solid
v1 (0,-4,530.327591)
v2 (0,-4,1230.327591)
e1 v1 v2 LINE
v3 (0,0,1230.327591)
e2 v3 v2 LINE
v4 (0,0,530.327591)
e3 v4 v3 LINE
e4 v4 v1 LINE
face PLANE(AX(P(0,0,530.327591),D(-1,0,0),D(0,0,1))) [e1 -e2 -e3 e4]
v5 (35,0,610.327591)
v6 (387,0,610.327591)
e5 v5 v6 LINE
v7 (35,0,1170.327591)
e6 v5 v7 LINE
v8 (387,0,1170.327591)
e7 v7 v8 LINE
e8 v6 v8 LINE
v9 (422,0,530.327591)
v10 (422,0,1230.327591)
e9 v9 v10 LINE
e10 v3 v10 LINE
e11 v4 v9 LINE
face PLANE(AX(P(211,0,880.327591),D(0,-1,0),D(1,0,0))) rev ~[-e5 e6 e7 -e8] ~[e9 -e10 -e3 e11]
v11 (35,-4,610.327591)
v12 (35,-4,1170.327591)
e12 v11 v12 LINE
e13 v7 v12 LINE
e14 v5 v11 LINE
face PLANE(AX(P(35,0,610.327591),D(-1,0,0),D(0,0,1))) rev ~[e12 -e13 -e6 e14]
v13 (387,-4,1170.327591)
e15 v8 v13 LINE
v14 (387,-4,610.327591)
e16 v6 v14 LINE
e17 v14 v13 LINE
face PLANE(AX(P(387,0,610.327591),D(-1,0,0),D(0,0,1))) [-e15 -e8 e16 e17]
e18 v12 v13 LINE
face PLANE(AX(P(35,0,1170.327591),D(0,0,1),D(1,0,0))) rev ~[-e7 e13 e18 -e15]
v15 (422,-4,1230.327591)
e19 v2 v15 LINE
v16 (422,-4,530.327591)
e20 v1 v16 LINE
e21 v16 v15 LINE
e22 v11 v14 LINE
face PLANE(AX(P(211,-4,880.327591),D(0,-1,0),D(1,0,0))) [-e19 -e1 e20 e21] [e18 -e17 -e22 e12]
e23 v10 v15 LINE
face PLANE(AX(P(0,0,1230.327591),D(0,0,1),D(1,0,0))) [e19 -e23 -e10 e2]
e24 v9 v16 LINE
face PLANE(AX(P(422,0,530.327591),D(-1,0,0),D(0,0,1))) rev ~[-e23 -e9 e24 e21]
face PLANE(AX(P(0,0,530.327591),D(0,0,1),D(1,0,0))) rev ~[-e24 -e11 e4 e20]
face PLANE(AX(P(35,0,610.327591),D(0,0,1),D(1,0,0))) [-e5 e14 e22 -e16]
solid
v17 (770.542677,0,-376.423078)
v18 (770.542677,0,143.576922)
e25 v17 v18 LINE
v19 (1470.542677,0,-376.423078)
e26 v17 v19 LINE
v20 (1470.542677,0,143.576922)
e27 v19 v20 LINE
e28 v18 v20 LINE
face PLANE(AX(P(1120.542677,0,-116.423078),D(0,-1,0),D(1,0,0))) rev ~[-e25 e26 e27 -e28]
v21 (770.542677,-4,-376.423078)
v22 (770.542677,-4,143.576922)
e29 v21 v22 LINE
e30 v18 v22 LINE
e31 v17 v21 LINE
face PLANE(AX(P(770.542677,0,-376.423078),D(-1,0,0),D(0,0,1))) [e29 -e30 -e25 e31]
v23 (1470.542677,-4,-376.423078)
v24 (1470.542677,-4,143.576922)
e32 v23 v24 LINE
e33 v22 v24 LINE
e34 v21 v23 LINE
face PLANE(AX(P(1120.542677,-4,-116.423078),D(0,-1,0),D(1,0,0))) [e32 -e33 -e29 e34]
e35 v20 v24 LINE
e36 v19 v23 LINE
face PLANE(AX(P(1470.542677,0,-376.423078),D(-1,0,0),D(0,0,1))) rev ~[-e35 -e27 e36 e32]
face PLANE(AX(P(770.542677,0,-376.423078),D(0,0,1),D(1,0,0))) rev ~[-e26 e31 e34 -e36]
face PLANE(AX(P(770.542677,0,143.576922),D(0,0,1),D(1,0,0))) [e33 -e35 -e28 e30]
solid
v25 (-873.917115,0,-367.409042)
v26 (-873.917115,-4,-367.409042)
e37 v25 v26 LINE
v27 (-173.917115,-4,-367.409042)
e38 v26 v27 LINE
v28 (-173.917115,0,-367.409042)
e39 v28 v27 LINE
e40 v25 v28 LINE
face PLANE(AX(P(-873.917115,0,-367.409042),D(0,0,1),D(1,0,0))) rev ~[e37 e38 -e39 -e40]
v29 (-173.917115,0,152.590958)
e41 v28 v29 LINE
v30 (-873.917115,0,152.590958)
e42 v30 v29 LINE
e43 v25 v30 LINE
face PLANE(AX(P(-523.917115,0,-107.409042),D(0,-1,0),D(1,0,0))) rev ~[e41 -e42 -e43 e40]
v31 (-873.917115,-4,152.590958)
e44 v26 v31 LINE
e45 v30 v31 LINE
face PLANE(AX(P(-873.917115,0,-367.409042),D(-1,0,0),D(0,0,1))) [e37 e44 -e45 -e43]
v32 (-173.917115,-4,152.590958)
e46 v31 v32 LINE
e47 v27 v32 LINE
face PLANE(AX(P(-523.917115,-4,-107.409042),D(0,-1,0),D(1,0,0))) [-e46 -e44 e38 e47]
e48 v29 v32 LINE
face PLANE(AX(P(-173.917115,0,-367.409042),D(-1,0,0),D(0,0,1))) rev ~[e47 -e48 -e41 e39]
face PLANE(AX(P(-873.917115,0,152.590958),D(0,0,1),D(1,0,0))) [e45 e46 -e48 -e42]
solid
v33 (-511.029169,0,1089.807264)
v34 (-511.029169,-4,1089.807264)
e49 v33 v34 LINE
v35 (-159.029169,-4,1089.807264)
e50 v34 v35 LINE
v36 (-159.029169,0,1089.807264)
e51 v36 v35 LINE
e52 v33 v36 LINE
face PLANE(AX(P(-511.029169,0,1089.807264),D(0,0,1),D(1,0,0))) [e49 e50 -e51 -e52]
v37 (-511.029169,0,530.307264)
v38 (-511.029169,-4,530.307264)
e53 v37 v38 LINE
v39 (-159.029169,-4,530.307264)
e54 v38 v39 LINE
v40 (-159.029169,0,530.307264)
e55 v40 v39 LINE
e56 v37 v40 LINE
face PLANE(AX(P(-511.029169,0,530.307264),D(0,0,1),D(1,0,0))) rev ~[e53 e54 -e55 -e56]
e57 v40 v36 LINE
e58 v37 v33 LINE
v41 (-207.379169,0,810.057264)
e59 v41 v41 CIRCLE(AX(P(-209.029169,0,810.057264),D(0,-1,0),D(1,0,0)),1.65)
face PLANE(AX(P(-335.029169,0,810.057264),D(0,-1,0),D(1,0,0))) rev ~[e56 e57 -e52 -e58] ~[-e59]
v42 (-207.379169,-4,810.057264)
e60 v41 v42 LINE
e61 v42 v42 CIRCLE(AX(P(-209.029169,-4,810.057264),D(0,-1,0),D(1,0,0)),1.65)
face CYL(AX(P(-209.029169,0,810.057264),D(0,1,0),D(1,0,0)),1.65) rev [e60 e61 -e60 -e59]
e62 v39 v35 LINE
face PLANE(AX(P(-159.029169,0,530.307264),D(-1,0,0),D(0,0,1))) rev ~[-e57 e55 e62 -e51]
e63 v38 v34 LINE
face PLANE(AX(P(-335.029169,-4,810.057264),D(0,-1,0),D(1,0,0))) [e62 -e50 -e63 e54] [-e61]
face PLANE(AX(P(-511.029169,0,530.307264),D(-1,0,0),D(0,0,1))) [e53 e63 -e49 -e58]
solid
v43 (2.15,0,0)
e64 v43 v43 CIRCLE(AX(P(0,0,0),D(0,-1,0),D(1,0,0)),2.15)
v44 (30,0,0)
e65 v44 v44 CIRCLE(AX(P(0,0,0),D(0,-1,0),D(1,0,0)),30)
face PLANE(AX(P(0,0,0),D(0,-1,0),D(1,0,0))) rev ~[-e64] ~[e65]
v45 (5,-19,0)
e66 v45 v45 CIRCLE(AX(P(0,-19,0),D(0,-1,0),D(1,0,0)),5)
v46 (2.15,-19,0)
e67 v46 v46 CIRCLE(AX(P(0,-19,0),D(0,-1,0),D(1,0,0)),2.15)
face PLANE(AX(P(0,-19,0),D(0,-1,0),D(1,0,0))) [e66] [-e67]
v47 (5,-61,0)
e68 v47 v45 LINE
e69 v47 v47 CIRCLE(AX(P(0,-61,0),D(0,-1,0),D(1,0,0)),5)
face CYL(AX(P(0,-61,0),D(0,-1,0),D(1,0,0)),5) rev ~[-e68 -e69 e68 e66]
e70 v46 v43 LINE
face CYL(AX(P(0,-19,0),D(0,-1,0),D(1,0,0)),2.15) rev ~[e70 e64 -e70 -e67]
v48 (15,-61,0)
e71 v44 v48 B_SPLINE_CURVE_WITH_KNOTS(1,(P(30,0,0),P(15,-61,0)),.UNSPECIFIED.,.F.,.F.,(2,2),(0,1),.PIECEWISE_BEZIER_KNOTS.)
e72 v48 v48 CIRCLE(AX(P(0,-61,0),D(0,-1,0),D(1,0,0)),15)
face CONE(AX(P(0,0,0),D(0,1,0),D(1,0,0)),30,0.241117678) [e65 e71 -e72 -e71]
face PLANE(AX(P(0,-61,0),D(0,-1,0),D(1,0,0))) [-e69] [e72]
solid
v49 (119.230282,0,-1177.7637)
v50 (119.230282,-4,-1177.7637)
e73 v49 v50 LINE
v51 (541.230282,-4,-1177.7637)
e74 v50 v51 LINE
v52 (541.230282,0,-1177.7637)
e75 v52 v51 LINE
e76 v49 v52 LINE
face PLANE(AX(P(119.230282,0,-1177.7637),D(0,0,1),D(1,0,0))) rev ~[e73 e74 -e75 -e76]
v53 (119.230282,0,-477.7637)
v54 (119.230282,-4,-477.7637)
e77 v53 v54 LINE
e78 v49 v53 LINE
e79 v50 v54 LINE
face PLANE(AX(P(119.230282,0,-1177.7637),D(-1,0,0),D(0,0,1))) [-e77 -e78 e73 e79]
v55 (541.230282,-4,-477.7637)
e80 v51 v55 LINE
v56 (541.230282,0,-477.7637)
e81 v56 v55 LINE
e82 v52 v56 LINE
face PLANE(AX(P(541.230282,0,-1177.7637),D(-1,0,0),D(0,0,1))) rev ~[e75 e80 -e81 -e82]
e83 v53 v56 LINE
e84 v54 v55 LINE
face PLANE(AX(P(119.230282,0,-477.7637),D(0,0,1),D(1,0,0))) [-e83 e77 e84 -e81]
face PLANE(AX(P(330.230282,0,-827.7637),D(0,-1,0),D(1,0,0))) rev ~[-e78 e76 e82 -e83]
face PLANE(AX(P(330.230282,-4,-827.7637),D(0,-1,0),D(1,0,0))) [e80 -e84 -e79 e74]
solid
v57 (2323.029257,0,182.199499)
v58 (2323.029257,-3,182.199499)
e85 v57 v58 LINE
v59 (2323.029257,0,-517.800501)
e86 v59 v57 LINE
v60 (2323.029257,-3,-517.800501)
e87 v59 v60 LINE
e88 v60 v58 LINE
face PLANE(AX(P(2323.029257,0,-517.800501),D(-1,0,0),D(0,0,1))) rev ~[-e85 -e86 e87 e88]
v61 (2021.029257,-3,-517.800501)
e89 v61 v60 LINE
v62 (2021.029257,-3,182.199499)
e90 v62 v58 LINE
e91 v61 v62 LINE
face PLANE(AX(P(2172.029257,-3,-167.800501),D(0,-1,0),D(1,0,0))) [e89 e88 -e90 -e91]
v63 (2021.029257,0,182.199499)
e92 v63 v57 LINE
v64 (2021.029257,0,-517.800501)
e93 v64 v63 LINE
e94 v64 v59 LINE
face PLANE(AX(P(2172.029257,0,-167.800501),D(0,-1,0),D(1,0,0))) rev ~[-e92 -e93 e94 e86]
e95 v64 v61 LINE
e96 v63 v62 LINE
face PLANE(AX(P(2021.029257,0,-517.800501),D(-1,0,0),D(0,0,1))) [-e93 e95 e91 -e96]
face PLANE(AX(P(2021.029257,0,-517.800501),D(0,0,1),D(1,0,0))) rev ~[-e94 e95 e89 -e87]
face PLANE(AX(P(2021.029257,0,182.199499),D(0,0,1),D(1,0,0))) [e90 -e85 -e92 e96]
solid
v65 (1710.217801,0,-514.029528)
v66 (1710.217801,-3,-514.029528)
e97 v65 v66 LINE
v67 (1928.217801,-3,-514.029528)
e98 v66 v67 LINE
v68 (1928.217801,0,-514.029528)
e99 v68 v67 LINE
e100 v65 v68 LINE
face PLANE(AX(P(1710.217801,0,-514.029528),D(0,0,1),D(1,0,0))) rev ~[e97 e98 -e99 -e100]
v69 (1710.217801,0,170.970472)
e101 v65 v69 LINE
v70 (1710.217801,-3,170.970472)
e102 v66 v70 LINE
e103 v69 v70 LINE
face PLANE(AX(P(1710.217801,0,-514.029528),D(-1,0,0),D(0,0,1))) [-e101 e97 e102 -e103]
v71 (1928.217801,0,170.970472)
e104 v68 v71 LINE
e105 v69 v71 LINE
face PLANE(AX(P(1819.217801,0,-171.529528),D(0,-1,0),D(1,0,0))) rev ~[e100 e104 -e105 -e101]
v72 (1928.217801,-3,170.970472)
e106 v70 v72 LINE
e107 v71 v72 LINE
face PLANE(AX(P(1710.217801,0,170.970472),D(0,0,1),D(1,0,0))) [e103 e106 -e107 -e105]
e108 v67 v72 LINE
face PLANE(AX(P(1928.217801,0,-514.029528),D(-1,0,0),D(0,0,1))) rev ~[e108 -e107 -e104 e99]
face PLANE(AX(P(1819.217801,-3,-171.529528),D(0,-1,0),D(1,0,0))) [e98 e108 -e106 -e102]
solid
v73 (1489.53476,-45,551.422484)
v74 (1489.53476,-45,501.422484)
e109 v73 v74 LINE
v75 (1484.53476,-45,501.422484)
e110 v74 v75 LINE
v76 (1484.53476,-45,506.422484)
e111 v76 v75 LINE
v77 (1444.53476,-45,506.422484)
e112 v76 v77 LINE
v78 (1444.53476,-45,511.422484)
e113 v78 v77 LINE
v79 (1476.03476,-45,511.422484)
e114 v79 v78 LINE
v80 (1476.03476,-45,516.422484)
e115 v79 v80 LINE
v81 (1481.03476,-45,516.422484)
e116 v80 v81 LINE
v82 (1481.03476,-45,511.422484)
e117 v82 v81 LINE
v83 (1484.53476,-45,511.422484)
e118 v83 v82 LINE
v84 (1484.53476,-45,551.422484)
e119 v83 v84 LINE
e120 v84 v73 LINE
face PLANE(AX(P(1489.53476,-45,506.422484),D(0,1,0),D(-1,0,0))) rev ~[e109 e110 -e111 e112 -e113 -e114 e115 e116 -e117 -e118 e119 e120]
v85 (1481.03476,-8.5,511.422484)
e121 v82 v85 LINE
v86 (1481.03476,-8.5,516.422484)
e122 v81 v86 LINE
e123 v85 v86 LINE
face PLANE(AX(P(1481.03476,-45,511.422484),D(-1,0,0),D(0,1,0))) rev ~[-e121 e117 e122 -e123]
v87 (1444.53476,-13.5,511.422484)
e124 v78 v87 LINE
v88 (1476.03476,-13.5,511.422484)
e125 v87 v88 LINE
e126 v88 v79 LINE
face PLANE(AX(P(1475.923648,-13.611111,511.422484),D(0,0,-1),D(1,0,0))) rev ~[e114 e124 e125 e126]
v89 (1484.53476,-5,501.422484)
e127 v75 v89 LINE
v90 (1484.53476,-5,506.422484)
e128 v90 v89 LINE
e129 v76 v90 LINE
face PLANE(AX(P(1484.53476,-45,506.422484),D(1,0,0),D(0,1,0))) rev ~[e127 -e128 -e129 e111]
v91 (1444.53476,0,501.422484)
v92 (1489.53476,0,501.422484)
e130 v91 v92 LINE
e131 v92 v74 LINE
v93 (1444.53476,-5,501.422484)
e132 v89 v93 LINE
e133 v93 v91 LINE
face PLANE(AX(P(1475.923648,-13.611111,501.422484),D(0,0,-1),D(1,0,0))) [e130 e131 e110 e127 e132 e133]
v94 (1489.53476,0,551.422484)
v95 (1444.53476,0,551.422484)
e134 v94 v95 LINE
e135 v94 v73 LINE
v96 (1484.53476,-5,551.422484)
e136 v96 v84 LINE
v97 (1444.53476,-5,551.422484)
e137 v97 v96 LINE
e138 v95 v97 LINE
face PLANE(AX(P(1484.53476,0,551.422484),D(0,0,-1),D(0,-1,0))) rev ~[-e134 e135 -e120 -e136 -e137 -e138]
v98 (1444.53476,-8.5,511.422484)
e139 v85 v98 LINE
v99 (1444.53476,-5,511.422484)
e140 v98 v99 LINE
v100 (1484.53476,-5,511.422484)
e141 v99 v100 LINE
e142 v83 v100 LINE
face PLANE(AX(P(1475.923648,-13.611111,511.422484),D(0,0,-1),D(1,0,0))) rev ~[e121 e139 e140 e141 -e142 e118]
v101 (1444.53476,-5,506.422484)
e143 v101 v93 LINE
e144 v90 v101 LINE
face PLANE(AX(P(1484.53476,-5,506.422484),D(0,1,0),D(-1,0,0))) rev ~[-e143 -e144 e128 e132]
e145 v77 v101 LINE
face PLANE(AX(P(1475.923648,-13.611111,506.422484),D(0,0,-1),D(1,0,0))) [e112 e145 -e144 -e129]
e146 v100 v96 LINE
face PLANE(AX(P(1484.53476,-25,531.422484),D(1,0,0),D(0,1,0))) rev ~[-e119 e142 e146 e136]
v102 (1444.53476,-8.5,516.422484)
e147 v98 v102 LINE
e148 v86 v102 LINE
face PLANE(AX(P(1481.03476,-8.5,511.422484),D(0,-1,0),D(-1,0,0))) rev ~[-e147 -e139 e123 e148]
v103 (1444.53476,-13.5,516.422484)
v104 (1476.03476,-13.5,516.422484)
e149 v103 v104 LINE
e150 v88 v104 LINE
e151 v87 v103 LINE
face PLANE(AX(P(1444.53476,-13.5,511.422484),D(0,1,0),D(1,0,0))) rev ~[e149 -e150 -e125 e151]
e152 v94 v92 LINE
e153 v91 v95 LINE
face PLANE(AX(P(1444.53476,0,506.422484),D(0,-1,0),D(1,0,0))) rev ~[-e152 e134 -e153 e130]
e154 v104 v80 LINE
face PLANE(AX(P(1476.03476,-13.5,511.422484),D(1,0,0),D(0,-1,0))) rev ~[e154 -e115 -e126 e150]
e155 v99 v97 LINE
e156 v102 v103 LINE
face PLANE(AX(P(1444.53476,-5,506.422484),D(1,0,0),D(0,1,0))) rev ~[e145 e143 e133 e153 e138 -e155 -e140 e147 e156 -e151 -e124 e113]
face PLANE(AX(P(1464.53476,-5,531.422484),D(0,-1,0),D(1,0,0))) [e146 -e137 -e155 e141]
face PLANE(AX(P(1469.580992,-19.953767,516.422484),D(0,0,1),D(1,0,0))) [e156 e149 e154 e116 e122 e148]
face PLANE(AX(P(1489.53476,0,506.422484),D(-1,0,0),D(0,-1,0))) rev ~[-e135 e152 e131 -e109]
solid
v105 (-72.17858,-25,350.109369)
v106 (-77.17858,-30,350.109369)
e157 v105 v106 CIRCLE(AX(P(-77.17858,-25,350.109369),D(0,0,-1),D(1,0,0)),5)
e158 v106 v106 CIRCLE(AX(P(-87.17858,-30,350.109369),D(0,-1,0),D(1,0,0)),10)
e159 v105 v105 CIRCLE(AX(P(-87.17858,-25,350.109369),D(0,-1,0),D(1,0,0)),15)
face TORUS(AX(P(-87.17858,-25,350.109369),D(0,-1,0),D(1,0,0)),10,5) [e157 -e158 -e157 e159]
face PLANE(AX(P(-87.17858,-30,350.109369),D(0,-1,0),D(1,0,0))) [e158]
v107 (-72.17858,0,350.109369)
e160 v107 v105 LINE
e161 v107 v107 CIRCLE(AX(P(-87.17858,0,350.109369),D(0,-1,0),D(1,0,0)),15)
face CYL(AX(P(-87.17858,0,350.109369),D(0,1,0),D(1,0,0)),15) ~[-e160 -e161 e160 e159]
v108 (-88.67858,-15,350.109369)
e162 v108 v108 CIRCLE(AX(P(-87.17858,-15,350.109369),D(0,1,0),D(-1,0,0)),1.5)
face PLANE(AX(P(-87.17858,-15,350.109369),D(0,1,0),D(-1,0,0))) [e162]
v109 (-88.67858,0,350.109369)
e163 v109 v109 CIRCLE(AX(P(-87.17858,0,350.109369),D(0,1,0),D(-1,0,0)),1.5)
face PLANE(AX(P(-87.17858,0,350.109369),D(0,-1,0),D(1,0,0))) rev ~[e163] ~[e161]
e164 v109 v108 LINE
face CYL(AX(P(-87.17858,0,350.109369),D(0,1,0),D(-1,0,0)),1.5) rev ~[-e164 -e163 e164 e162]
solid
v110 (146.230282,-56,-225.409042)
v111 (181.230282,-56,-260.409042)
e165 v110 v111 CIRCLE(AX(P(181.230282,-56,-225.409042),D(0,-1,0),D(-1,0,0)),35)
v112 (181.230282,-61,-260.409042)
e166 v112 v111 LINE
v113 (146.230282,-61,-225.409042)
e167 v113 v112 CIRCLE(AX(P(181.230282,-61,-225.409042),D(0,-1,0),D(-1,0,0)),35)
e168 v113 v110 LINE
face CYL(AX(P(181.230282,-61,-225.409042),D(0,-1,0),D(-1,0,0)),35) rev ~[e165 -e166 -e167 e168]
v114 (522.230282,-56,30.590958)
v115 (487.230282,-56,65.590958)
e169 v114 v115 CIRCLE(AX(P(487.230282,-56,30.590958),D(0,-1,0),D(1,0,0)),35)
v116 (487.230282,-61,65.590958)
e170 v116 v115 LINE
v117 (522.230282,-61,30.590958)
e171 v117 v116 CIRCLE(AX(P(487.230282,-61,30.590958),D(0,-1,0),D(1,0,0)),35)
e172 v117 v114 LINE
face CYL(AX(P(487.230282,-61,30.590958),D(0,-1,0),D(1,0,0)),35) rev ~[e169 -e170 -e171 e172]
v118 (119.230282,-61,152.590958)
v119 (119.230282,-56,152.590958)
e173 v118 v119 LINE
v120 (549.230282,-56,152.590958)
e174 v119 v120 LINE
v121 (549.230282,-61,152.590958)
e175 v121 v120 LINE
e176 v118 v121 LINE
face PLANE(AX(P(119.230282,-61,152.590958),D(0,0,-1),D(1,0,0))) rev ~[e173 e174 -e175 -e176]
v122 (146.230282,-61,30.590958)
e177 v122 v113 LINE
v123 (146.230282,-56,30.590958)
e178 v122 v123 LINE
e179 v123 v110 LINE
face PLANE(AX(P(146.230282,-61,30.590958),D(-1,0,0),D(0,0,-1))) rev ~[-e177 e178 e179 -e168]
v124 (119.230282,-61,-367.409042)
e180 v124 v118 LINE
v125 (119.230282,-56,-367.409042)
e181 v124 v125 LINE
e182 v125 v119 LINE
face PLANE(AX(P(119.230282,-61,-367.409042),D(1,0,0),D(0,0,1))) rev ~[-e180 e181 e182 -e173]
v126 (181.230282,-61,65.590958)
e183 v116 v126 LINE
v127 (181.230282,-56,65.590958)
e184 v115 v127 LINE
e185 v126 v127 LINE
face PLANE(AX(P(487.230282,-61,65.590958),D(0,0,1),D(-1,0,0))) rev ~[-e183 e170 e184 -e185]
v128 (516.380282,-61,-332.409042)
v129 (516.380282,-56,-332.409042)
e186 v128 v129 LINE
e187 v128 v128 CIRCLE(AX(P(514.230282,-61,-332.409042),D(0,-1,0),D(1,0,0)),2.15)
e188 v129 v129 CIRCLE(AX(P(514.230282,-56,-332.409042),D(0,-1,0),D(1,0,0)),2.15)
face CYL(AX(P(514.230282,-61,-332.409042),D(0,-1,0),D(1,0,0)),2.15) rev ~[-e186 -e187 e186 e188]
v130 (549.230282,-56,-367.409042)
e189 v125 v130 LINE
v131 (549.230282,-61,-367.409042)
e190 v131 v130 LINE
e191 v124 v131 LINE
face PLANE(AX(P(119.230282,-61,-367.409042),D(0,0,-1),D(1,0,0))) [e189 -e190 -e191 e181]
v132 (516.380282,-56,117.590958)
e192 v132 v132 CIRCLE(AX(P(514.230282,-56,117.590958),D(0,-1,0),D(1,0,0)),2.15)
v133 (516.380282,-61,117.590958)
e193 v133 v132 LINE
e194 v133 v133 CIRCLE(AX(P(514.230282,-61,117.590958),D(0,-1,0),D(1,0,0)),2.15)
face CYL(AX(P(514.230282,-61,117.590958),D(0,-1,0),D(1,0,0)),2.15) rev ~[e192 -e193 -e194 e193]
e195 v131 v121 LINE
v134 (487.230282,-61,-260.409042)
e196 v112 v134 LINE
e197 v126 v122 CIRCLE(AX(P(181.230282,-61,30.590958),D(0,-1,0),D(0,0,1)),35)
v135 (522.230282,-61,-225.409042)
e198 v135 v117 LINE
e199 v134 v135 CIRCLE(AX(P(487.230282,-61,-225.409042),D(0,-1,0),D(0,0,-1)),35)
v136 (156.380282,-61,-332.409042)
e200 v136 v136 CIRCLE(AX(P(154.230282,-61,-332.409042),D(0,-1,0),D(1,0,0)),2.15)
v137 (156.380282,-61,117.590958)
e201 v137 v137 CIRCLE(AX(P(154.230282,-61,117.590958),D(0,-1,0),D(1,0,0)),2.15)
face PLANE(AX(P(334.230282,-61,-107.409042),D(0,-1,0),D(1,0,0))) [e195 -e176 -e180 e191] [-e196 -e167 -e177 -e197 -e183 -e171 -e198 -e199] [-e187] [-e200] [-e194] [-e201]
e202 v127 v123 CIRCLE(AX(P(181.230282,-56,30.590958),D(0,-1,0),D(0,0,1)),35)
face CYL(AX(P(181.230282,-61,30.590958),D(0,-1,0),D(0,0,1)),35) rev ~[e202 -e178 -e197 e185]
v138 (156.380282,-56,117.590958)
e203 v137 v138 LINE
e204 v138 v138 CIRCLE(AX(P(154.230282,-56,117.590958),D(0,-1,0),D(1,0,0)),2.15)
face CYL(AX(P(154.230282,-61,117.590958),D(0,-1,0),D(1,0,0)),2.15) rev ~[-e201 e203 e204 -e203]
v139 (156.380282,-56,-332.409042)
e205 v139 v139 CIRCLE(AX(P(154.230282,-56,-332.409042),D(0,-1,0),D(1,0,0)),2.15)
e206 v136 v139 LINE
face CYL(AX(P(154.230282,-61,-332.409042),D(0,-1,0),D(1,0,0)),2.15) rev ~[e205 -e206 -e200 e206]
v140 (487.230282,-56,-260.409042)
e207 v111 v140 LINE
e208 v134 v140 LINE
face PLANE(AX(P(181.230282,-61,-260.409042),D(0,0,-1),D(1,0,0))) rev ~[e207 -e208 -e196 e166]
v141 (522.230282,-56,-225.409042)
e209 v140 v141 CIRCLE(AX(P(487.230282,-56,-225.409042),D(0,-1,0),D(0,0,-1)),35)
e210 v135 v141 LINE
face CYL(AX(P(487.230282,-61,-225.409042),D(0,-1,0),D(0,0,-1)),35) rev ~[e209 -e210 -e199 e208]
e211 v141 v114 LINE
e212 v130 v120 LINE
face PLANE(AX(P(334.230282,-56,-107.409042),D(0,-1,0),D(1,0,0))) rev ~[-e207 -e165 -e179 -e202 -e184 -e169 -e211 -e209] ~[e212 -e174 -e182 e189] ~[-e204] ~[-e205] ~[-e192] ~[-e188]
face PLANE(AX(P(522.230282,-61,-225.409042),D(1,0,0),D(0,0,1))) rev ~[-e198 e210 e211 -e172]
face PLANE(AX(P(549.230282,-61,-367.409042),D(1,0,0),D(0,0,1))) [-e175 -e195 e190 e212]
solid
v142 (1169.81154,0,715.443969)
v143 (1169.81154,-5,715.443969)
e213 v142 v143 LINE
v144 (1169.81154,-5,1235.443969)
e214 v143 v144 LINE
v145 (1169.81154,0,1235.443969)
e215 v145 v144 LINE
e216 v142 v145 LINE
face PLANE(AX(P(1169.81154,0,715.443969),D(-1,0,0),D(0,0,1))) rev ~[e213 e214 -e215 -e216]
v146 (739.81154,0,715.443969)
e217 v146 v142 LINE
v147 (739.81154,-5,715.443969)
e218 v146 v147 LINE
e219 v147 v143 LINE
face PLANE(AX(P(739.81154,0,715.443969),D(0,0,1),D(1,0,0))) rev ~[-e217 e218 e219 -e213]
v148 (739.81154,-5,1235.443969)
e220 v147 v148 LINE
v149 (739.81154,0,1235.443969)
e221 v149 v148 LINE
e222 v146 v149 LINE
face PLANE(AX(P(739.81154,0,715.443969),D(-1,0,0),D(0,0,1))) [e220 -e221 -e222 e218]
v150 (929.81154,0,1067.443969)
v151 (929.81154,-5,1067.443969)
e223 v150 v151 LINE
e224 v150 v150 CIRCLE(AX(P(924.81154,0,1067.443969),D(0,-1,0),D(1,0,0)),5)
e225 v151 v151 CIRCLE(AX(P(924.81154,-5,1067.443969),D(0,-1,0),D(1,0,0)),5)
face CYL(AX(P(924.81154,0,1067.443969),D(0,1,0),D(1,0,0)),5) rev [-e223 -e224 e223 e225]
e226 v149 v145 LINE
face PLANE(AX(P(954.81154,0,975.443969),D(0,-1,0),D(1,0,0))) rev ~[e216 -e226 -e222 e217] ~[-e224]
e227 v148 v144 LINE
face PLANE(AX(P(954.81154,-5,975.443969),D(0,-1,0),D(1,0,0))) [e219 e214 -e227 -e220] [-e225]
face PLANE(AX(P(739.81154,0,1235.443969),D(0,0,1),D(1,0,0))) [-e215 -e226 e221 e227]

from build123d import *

# Parameters (mm, degrees)
F2_R        = 30
F4_R        = 15
F6_R        = 5
F7_DEPTH    = 42
F8_R        = 2.15
F9_DEPTH    = 19.0010001
F10_W       = 430
F10_H       = 520
F10_R       = 2.15
F11_DEPTH   = 5
F13_DEPTH   = 61.0010001
F14_W       = 700
F14_H       = 520
F16_DEPTH   = 4
F15_W       = 422
F15_H       = 700
F17_DEPTH   = 4
F18_W       = 700
F18_H       = 520
F19_DEPTH   = 4
F20_W       = 422
F20_H       = 700
F20_W_2     = 352
F20_H_2     = 560
F21_DEPTH   = 4
F22_W       = 430
F22_H       = 520
F22_R       = 5
F23_DEPTH   = 5
F24_W       = 352
F24_H       = 559.5
F24_R       = 1.65
F25_DEPTH   = 4
F26_R       = 15
F27_DEPTH   = 30
F28_R       = 5
F29_R       = 1.5
F30_DEPTH   = 15
F31_W       = 40
F31_H       = 40
F32_DEPTH   = 5
F33_W       = 40
F33_H       = 40
F33_W_2     = 5
F34_DEPTH   = 5
F35_W       = 40
F35_H       = 40
F36_DEPTH   = 5
F36_FACE1_W = 40
F36_FACE1_H = 40
F38_DEPTH   = 5
F40_DEPTH   = 5
F41_W       = 302
F41_H       = 700
F42_DEPTH   = 3
F43_W       = 218
F43_H       = 685
F44_DEPTH   = 3


with BuildPart() as f5:
    # F2 (on Front) → F5 section 0
    with BuildSketch(Plane.XZ):
        Circle(F2_R)
    # F4 (on offset) → F5 section 1
    with BuildSketch(Plane.XZ.offset(61)):
        Circle(F4_R)
    loft()

    # F6 (on face) → F7 (cut)
    with BuildSketch(Plane.XZ.offset(61)):
        Circle(F6_R)
    extrude(amount=-F7_DEPTH, mode=Mode.SUBTRACT)

    # F8 (on face) → F9 (cut, through all)
    with BuildSketch(Plane.XZ.offset(19)):
        Circle(F8_R)
    extrude(amount=-F9_DEPTH, mode=Mode.SUBTRACT)


with BuildPart() as f11:
    # F10 (on offset) → F11 (new body)
    with BuildSketch(Plane.XZ.offset(61)):
        with Locations((334.2302817106, -107.4090420464)):
            Rectangle(F10_W, F10_H)
        with Locations((154.2302817106, -332.4090420464)):
            Circle(F10_R, mode=Mode.SUBTRACT)
        with Locations((514.2302817106, -332.4090420464)):
            Circle(F10_R, mode=Mode.SUBTRACT)
        with Locations((154.2302817106, 117.5909579536)):
            Circle(F10_R, mode=Mode.SUBTRACT)
        with Locations((514.2302817106, 117.5909579536)):
            Circle(F10_R, mode=Mode.SUBTRACT)
    extrude(amount=-F11_DEPTH)

    # F12 (on face) → F13 (cut, through all)
    with BuildSketch(Plane.XZ.offset(61)):
        with BuildLine():
            Line((487.2302817106, 65.5909579536), (181.2302817106, 65.5909579536))
            ThreePointArc((181.2302817106, 65.5909579536), (156.4815443691, 55.3396952951), (146.2302817106, 30.5909579536))
            Line((146.2302817106, 30.5909579536), (146.2302817106, -225.4090420464))
            ThreePointArc((146.2302817106, -225.4090420464), (156.4815443691, -250.1577793879), (181.2302817106, -260.4090420464))
            Line((181.2302817106, -260.4090420464), (487.2302817106, -260.4090420464))
            ThreePointArc((487.2302817106, -260.4090420464), (511.9790190522, -250.1577793879), (522.2302817106, -225.4090420464))
            Line((522.2302817106, -225.4090420464), (522.2302817106, 30.5909579536))
            ThreePointArc((522.2302817106, 30.5909579536), (511.9790190522, 55.3396952951), (487.2302817106, 65.5909579536))
        make_face()
    extrude(amount=-F13_DEPTH, mode=Mode.SUBTRACT)


with BuildPart() as f16:
    # F14 (on Front) → F16 (new body)
    with BuildSketch(Plane.XZ):
        with Locations((-523.9171147346, -107.4090420464)):
            Rectangle(F14_W, F14_H)
    extrude(amount=F16_DEPTH)


with BuildPart() as f17:
    # F15 (on Front) → F17 (new body)
    with BuildSketch(Plane.XZ):
        with Locations((330.2302817106, -827.7637004852)):
            Rectangle(F15_W, F15_H)
    extrude(amount=F17_DEPTH)


with BuildPart() as f19:
    # F18 (on Front) → F19 (new body)
    with BuildSketch(Plane.XZ):
        with Locations((1120.5426770376, -116.4230778813)):
            Rectangle(F18_W, F18_H)
    extrude(amount=F19_DEPTH)


with BuildPart() as f21:
    # F20 (on Front) → F21 (new body)
    with BuildSketch(Plane.XZ):
        with Locations((211, 880.3275906977)):
            Rectangle(F20_W, F20_H)
        with Locations((211, 890.3275906977)):
            Rectangle(F20_W_2, F20_H_2, mode=Mode.SUBTRACT)
    extrude(amount=F21_DEPTH)


with BuildPart() as f23:
    # F22 (on Front) → F23 (new body)
    with BuildSketch(Plane.XZ):
        with Locations((954.81153965, 975.4439687729)):
            Rectangle(F22_W, F22_H)
        with Locations((924.81153965, 1067.4439687729)):
            Circle(F22_R, mode=Mode.SUBTRACT)
    extrude(amount=F23_DEPTH)


with BuildPart() as f25:
    # F24 (on Front) → F25 (new body)
    with BuildSketch(Plane.XZ):
        with Locations((-335.0291686491, 810.057264328)):
            Rectangle(F24_W, F24_H)
        with Locations((-209.0291686491, 810.057264328)):
            Circle(F24_R, mode=Mode.SUBTRACT)
    extrude(amount=F25_DEPTH)


with BuildPart() as f27:
    # F26 (on Front) → F27 (new body)
    with BuildSketch(Plane.XZ):
        with Locations((-87.1785804629, 350.1093685627)):
            Circle(F26_R)
    extrude(amount=F27_DEPTH)

    # F28
    f28_edges = [f27.edges().sort_by_distance(p)[0] for p in [
        (-102.17858, -30, 350.109369),
    ]]
    fillet(f28_edges, radius=F28_R)

    # F29 (on face) → F30 (cut)
    with BuildSketch(Plane(origin=(0, 0, 0), x_dir=(-1, 0, 0), z_dir=(0, 1, 0))):
        with Locations((87.1785804629, 350.1093685627)):
            Circle(F29_R)
    extrude(amount=-F30_DEPTH, mode=Mode.SUBTRACT)


with BuildPart() as f32:
    # F31 (on Front) → F32 (new body)
    with BuildSketch(Plane.XZ):
        with Locations((1464.5347595215, 531.4224843595)):
            Rectangle(F31_W, F31_H)
    extrude(amount=F32_DEPTH)

    # F33 (on face) → F34 (join)
    with BuildSketch(Plane.YZ.offset(1484.5347595215)):
        with Locations((-25, 531.4224843595)):
            Rectangle(F33_W, F33_H)
        with Locations((-2.5, 531.4224843595)):
            Rectangle(F33_W_2, F33_H)
    extrude(amount=F34_DEPTH)

    # F35 (on face) → F36 (join)
    with BuildSketch(Plane(origin=(0, 0, 511.4224843595), x_dir=(1, 0, 0), z_dir=(0, 0, -1))):
        Polygon((1444.5347595215, 0), (1489.5347595215, 0), (1489.5347595215, 45), (1484.5347595215, 45), (1484.5347595215, 5), (1444.5347595215, 5), align=None)
        with Locations((1464.5347595215, 25)):
            Rectangle(F35_W, F35_H)
    extrude(amount=F36_DEPTH)

    # F37 (on face) + F36_face1 (on face) → F38 (join)
    with BuildSketch(Plane(origin=(0, 0, 506.4224843595), x_dir=(1, 0, 0), z_dir=(0, 0, -1))):
        Polygon((1444.5347595215, 0), (1489.5347595215, 0), (1489.5347595215, 45), (1484.5347595215, 45), (1484.5347595215, 5), (1444.5347595215, 5), align=None)
    with BuildSketch(Plane(origin=(1464.5347595215, -25, 511.4224843595), x_dir=(1, 0, 0), z_dir=(0, 0, 1))):
        Rectangle(F36_FACE1_W, F36_FACE1_H)
    extrude(amount=F38_DEPTH, dir=(0, 0, -1))

    # F39 (on face) → F40 (join)
    with BuildSketch(Plane.XY.offset(511.4224843595)):
        Polygon((1481.0347595215, -8.5), (1444.5347595215, -8.5), (1444.5347595215, -13.5), (1476.0347595215, -13.5), (1476.0347595215, -45), (1481.0347595215, -45), align=None)
    extrude(amount=F40_DEPTH)


with BuildPart() as f42:
    # F41 (on Front) → F42 (new body)
    with BuildSketch(Plane.XZ):
        with Locations((2172.0292568207, -167.8005013911)):
            Rectangle(F41_W, F41_H)
    extrude(amount=F42_DEPTH)


with BuildPart() as f44:
    # F43 (on Front) → F44 (new body)
    with BuildSketch(Plane.XZ):
        with Locations((1819.2178010941, -171.5295280986)):
            Rectangle(F43_W, F43_H)
    extrude(amount=F44_DEPTH)


solid = Compound([f5.part, f11.part, f16.part, f17.part, f19.part, f21.part, f23.part, f25.part, f27.part, f32.part, f42.part, f44.part])
